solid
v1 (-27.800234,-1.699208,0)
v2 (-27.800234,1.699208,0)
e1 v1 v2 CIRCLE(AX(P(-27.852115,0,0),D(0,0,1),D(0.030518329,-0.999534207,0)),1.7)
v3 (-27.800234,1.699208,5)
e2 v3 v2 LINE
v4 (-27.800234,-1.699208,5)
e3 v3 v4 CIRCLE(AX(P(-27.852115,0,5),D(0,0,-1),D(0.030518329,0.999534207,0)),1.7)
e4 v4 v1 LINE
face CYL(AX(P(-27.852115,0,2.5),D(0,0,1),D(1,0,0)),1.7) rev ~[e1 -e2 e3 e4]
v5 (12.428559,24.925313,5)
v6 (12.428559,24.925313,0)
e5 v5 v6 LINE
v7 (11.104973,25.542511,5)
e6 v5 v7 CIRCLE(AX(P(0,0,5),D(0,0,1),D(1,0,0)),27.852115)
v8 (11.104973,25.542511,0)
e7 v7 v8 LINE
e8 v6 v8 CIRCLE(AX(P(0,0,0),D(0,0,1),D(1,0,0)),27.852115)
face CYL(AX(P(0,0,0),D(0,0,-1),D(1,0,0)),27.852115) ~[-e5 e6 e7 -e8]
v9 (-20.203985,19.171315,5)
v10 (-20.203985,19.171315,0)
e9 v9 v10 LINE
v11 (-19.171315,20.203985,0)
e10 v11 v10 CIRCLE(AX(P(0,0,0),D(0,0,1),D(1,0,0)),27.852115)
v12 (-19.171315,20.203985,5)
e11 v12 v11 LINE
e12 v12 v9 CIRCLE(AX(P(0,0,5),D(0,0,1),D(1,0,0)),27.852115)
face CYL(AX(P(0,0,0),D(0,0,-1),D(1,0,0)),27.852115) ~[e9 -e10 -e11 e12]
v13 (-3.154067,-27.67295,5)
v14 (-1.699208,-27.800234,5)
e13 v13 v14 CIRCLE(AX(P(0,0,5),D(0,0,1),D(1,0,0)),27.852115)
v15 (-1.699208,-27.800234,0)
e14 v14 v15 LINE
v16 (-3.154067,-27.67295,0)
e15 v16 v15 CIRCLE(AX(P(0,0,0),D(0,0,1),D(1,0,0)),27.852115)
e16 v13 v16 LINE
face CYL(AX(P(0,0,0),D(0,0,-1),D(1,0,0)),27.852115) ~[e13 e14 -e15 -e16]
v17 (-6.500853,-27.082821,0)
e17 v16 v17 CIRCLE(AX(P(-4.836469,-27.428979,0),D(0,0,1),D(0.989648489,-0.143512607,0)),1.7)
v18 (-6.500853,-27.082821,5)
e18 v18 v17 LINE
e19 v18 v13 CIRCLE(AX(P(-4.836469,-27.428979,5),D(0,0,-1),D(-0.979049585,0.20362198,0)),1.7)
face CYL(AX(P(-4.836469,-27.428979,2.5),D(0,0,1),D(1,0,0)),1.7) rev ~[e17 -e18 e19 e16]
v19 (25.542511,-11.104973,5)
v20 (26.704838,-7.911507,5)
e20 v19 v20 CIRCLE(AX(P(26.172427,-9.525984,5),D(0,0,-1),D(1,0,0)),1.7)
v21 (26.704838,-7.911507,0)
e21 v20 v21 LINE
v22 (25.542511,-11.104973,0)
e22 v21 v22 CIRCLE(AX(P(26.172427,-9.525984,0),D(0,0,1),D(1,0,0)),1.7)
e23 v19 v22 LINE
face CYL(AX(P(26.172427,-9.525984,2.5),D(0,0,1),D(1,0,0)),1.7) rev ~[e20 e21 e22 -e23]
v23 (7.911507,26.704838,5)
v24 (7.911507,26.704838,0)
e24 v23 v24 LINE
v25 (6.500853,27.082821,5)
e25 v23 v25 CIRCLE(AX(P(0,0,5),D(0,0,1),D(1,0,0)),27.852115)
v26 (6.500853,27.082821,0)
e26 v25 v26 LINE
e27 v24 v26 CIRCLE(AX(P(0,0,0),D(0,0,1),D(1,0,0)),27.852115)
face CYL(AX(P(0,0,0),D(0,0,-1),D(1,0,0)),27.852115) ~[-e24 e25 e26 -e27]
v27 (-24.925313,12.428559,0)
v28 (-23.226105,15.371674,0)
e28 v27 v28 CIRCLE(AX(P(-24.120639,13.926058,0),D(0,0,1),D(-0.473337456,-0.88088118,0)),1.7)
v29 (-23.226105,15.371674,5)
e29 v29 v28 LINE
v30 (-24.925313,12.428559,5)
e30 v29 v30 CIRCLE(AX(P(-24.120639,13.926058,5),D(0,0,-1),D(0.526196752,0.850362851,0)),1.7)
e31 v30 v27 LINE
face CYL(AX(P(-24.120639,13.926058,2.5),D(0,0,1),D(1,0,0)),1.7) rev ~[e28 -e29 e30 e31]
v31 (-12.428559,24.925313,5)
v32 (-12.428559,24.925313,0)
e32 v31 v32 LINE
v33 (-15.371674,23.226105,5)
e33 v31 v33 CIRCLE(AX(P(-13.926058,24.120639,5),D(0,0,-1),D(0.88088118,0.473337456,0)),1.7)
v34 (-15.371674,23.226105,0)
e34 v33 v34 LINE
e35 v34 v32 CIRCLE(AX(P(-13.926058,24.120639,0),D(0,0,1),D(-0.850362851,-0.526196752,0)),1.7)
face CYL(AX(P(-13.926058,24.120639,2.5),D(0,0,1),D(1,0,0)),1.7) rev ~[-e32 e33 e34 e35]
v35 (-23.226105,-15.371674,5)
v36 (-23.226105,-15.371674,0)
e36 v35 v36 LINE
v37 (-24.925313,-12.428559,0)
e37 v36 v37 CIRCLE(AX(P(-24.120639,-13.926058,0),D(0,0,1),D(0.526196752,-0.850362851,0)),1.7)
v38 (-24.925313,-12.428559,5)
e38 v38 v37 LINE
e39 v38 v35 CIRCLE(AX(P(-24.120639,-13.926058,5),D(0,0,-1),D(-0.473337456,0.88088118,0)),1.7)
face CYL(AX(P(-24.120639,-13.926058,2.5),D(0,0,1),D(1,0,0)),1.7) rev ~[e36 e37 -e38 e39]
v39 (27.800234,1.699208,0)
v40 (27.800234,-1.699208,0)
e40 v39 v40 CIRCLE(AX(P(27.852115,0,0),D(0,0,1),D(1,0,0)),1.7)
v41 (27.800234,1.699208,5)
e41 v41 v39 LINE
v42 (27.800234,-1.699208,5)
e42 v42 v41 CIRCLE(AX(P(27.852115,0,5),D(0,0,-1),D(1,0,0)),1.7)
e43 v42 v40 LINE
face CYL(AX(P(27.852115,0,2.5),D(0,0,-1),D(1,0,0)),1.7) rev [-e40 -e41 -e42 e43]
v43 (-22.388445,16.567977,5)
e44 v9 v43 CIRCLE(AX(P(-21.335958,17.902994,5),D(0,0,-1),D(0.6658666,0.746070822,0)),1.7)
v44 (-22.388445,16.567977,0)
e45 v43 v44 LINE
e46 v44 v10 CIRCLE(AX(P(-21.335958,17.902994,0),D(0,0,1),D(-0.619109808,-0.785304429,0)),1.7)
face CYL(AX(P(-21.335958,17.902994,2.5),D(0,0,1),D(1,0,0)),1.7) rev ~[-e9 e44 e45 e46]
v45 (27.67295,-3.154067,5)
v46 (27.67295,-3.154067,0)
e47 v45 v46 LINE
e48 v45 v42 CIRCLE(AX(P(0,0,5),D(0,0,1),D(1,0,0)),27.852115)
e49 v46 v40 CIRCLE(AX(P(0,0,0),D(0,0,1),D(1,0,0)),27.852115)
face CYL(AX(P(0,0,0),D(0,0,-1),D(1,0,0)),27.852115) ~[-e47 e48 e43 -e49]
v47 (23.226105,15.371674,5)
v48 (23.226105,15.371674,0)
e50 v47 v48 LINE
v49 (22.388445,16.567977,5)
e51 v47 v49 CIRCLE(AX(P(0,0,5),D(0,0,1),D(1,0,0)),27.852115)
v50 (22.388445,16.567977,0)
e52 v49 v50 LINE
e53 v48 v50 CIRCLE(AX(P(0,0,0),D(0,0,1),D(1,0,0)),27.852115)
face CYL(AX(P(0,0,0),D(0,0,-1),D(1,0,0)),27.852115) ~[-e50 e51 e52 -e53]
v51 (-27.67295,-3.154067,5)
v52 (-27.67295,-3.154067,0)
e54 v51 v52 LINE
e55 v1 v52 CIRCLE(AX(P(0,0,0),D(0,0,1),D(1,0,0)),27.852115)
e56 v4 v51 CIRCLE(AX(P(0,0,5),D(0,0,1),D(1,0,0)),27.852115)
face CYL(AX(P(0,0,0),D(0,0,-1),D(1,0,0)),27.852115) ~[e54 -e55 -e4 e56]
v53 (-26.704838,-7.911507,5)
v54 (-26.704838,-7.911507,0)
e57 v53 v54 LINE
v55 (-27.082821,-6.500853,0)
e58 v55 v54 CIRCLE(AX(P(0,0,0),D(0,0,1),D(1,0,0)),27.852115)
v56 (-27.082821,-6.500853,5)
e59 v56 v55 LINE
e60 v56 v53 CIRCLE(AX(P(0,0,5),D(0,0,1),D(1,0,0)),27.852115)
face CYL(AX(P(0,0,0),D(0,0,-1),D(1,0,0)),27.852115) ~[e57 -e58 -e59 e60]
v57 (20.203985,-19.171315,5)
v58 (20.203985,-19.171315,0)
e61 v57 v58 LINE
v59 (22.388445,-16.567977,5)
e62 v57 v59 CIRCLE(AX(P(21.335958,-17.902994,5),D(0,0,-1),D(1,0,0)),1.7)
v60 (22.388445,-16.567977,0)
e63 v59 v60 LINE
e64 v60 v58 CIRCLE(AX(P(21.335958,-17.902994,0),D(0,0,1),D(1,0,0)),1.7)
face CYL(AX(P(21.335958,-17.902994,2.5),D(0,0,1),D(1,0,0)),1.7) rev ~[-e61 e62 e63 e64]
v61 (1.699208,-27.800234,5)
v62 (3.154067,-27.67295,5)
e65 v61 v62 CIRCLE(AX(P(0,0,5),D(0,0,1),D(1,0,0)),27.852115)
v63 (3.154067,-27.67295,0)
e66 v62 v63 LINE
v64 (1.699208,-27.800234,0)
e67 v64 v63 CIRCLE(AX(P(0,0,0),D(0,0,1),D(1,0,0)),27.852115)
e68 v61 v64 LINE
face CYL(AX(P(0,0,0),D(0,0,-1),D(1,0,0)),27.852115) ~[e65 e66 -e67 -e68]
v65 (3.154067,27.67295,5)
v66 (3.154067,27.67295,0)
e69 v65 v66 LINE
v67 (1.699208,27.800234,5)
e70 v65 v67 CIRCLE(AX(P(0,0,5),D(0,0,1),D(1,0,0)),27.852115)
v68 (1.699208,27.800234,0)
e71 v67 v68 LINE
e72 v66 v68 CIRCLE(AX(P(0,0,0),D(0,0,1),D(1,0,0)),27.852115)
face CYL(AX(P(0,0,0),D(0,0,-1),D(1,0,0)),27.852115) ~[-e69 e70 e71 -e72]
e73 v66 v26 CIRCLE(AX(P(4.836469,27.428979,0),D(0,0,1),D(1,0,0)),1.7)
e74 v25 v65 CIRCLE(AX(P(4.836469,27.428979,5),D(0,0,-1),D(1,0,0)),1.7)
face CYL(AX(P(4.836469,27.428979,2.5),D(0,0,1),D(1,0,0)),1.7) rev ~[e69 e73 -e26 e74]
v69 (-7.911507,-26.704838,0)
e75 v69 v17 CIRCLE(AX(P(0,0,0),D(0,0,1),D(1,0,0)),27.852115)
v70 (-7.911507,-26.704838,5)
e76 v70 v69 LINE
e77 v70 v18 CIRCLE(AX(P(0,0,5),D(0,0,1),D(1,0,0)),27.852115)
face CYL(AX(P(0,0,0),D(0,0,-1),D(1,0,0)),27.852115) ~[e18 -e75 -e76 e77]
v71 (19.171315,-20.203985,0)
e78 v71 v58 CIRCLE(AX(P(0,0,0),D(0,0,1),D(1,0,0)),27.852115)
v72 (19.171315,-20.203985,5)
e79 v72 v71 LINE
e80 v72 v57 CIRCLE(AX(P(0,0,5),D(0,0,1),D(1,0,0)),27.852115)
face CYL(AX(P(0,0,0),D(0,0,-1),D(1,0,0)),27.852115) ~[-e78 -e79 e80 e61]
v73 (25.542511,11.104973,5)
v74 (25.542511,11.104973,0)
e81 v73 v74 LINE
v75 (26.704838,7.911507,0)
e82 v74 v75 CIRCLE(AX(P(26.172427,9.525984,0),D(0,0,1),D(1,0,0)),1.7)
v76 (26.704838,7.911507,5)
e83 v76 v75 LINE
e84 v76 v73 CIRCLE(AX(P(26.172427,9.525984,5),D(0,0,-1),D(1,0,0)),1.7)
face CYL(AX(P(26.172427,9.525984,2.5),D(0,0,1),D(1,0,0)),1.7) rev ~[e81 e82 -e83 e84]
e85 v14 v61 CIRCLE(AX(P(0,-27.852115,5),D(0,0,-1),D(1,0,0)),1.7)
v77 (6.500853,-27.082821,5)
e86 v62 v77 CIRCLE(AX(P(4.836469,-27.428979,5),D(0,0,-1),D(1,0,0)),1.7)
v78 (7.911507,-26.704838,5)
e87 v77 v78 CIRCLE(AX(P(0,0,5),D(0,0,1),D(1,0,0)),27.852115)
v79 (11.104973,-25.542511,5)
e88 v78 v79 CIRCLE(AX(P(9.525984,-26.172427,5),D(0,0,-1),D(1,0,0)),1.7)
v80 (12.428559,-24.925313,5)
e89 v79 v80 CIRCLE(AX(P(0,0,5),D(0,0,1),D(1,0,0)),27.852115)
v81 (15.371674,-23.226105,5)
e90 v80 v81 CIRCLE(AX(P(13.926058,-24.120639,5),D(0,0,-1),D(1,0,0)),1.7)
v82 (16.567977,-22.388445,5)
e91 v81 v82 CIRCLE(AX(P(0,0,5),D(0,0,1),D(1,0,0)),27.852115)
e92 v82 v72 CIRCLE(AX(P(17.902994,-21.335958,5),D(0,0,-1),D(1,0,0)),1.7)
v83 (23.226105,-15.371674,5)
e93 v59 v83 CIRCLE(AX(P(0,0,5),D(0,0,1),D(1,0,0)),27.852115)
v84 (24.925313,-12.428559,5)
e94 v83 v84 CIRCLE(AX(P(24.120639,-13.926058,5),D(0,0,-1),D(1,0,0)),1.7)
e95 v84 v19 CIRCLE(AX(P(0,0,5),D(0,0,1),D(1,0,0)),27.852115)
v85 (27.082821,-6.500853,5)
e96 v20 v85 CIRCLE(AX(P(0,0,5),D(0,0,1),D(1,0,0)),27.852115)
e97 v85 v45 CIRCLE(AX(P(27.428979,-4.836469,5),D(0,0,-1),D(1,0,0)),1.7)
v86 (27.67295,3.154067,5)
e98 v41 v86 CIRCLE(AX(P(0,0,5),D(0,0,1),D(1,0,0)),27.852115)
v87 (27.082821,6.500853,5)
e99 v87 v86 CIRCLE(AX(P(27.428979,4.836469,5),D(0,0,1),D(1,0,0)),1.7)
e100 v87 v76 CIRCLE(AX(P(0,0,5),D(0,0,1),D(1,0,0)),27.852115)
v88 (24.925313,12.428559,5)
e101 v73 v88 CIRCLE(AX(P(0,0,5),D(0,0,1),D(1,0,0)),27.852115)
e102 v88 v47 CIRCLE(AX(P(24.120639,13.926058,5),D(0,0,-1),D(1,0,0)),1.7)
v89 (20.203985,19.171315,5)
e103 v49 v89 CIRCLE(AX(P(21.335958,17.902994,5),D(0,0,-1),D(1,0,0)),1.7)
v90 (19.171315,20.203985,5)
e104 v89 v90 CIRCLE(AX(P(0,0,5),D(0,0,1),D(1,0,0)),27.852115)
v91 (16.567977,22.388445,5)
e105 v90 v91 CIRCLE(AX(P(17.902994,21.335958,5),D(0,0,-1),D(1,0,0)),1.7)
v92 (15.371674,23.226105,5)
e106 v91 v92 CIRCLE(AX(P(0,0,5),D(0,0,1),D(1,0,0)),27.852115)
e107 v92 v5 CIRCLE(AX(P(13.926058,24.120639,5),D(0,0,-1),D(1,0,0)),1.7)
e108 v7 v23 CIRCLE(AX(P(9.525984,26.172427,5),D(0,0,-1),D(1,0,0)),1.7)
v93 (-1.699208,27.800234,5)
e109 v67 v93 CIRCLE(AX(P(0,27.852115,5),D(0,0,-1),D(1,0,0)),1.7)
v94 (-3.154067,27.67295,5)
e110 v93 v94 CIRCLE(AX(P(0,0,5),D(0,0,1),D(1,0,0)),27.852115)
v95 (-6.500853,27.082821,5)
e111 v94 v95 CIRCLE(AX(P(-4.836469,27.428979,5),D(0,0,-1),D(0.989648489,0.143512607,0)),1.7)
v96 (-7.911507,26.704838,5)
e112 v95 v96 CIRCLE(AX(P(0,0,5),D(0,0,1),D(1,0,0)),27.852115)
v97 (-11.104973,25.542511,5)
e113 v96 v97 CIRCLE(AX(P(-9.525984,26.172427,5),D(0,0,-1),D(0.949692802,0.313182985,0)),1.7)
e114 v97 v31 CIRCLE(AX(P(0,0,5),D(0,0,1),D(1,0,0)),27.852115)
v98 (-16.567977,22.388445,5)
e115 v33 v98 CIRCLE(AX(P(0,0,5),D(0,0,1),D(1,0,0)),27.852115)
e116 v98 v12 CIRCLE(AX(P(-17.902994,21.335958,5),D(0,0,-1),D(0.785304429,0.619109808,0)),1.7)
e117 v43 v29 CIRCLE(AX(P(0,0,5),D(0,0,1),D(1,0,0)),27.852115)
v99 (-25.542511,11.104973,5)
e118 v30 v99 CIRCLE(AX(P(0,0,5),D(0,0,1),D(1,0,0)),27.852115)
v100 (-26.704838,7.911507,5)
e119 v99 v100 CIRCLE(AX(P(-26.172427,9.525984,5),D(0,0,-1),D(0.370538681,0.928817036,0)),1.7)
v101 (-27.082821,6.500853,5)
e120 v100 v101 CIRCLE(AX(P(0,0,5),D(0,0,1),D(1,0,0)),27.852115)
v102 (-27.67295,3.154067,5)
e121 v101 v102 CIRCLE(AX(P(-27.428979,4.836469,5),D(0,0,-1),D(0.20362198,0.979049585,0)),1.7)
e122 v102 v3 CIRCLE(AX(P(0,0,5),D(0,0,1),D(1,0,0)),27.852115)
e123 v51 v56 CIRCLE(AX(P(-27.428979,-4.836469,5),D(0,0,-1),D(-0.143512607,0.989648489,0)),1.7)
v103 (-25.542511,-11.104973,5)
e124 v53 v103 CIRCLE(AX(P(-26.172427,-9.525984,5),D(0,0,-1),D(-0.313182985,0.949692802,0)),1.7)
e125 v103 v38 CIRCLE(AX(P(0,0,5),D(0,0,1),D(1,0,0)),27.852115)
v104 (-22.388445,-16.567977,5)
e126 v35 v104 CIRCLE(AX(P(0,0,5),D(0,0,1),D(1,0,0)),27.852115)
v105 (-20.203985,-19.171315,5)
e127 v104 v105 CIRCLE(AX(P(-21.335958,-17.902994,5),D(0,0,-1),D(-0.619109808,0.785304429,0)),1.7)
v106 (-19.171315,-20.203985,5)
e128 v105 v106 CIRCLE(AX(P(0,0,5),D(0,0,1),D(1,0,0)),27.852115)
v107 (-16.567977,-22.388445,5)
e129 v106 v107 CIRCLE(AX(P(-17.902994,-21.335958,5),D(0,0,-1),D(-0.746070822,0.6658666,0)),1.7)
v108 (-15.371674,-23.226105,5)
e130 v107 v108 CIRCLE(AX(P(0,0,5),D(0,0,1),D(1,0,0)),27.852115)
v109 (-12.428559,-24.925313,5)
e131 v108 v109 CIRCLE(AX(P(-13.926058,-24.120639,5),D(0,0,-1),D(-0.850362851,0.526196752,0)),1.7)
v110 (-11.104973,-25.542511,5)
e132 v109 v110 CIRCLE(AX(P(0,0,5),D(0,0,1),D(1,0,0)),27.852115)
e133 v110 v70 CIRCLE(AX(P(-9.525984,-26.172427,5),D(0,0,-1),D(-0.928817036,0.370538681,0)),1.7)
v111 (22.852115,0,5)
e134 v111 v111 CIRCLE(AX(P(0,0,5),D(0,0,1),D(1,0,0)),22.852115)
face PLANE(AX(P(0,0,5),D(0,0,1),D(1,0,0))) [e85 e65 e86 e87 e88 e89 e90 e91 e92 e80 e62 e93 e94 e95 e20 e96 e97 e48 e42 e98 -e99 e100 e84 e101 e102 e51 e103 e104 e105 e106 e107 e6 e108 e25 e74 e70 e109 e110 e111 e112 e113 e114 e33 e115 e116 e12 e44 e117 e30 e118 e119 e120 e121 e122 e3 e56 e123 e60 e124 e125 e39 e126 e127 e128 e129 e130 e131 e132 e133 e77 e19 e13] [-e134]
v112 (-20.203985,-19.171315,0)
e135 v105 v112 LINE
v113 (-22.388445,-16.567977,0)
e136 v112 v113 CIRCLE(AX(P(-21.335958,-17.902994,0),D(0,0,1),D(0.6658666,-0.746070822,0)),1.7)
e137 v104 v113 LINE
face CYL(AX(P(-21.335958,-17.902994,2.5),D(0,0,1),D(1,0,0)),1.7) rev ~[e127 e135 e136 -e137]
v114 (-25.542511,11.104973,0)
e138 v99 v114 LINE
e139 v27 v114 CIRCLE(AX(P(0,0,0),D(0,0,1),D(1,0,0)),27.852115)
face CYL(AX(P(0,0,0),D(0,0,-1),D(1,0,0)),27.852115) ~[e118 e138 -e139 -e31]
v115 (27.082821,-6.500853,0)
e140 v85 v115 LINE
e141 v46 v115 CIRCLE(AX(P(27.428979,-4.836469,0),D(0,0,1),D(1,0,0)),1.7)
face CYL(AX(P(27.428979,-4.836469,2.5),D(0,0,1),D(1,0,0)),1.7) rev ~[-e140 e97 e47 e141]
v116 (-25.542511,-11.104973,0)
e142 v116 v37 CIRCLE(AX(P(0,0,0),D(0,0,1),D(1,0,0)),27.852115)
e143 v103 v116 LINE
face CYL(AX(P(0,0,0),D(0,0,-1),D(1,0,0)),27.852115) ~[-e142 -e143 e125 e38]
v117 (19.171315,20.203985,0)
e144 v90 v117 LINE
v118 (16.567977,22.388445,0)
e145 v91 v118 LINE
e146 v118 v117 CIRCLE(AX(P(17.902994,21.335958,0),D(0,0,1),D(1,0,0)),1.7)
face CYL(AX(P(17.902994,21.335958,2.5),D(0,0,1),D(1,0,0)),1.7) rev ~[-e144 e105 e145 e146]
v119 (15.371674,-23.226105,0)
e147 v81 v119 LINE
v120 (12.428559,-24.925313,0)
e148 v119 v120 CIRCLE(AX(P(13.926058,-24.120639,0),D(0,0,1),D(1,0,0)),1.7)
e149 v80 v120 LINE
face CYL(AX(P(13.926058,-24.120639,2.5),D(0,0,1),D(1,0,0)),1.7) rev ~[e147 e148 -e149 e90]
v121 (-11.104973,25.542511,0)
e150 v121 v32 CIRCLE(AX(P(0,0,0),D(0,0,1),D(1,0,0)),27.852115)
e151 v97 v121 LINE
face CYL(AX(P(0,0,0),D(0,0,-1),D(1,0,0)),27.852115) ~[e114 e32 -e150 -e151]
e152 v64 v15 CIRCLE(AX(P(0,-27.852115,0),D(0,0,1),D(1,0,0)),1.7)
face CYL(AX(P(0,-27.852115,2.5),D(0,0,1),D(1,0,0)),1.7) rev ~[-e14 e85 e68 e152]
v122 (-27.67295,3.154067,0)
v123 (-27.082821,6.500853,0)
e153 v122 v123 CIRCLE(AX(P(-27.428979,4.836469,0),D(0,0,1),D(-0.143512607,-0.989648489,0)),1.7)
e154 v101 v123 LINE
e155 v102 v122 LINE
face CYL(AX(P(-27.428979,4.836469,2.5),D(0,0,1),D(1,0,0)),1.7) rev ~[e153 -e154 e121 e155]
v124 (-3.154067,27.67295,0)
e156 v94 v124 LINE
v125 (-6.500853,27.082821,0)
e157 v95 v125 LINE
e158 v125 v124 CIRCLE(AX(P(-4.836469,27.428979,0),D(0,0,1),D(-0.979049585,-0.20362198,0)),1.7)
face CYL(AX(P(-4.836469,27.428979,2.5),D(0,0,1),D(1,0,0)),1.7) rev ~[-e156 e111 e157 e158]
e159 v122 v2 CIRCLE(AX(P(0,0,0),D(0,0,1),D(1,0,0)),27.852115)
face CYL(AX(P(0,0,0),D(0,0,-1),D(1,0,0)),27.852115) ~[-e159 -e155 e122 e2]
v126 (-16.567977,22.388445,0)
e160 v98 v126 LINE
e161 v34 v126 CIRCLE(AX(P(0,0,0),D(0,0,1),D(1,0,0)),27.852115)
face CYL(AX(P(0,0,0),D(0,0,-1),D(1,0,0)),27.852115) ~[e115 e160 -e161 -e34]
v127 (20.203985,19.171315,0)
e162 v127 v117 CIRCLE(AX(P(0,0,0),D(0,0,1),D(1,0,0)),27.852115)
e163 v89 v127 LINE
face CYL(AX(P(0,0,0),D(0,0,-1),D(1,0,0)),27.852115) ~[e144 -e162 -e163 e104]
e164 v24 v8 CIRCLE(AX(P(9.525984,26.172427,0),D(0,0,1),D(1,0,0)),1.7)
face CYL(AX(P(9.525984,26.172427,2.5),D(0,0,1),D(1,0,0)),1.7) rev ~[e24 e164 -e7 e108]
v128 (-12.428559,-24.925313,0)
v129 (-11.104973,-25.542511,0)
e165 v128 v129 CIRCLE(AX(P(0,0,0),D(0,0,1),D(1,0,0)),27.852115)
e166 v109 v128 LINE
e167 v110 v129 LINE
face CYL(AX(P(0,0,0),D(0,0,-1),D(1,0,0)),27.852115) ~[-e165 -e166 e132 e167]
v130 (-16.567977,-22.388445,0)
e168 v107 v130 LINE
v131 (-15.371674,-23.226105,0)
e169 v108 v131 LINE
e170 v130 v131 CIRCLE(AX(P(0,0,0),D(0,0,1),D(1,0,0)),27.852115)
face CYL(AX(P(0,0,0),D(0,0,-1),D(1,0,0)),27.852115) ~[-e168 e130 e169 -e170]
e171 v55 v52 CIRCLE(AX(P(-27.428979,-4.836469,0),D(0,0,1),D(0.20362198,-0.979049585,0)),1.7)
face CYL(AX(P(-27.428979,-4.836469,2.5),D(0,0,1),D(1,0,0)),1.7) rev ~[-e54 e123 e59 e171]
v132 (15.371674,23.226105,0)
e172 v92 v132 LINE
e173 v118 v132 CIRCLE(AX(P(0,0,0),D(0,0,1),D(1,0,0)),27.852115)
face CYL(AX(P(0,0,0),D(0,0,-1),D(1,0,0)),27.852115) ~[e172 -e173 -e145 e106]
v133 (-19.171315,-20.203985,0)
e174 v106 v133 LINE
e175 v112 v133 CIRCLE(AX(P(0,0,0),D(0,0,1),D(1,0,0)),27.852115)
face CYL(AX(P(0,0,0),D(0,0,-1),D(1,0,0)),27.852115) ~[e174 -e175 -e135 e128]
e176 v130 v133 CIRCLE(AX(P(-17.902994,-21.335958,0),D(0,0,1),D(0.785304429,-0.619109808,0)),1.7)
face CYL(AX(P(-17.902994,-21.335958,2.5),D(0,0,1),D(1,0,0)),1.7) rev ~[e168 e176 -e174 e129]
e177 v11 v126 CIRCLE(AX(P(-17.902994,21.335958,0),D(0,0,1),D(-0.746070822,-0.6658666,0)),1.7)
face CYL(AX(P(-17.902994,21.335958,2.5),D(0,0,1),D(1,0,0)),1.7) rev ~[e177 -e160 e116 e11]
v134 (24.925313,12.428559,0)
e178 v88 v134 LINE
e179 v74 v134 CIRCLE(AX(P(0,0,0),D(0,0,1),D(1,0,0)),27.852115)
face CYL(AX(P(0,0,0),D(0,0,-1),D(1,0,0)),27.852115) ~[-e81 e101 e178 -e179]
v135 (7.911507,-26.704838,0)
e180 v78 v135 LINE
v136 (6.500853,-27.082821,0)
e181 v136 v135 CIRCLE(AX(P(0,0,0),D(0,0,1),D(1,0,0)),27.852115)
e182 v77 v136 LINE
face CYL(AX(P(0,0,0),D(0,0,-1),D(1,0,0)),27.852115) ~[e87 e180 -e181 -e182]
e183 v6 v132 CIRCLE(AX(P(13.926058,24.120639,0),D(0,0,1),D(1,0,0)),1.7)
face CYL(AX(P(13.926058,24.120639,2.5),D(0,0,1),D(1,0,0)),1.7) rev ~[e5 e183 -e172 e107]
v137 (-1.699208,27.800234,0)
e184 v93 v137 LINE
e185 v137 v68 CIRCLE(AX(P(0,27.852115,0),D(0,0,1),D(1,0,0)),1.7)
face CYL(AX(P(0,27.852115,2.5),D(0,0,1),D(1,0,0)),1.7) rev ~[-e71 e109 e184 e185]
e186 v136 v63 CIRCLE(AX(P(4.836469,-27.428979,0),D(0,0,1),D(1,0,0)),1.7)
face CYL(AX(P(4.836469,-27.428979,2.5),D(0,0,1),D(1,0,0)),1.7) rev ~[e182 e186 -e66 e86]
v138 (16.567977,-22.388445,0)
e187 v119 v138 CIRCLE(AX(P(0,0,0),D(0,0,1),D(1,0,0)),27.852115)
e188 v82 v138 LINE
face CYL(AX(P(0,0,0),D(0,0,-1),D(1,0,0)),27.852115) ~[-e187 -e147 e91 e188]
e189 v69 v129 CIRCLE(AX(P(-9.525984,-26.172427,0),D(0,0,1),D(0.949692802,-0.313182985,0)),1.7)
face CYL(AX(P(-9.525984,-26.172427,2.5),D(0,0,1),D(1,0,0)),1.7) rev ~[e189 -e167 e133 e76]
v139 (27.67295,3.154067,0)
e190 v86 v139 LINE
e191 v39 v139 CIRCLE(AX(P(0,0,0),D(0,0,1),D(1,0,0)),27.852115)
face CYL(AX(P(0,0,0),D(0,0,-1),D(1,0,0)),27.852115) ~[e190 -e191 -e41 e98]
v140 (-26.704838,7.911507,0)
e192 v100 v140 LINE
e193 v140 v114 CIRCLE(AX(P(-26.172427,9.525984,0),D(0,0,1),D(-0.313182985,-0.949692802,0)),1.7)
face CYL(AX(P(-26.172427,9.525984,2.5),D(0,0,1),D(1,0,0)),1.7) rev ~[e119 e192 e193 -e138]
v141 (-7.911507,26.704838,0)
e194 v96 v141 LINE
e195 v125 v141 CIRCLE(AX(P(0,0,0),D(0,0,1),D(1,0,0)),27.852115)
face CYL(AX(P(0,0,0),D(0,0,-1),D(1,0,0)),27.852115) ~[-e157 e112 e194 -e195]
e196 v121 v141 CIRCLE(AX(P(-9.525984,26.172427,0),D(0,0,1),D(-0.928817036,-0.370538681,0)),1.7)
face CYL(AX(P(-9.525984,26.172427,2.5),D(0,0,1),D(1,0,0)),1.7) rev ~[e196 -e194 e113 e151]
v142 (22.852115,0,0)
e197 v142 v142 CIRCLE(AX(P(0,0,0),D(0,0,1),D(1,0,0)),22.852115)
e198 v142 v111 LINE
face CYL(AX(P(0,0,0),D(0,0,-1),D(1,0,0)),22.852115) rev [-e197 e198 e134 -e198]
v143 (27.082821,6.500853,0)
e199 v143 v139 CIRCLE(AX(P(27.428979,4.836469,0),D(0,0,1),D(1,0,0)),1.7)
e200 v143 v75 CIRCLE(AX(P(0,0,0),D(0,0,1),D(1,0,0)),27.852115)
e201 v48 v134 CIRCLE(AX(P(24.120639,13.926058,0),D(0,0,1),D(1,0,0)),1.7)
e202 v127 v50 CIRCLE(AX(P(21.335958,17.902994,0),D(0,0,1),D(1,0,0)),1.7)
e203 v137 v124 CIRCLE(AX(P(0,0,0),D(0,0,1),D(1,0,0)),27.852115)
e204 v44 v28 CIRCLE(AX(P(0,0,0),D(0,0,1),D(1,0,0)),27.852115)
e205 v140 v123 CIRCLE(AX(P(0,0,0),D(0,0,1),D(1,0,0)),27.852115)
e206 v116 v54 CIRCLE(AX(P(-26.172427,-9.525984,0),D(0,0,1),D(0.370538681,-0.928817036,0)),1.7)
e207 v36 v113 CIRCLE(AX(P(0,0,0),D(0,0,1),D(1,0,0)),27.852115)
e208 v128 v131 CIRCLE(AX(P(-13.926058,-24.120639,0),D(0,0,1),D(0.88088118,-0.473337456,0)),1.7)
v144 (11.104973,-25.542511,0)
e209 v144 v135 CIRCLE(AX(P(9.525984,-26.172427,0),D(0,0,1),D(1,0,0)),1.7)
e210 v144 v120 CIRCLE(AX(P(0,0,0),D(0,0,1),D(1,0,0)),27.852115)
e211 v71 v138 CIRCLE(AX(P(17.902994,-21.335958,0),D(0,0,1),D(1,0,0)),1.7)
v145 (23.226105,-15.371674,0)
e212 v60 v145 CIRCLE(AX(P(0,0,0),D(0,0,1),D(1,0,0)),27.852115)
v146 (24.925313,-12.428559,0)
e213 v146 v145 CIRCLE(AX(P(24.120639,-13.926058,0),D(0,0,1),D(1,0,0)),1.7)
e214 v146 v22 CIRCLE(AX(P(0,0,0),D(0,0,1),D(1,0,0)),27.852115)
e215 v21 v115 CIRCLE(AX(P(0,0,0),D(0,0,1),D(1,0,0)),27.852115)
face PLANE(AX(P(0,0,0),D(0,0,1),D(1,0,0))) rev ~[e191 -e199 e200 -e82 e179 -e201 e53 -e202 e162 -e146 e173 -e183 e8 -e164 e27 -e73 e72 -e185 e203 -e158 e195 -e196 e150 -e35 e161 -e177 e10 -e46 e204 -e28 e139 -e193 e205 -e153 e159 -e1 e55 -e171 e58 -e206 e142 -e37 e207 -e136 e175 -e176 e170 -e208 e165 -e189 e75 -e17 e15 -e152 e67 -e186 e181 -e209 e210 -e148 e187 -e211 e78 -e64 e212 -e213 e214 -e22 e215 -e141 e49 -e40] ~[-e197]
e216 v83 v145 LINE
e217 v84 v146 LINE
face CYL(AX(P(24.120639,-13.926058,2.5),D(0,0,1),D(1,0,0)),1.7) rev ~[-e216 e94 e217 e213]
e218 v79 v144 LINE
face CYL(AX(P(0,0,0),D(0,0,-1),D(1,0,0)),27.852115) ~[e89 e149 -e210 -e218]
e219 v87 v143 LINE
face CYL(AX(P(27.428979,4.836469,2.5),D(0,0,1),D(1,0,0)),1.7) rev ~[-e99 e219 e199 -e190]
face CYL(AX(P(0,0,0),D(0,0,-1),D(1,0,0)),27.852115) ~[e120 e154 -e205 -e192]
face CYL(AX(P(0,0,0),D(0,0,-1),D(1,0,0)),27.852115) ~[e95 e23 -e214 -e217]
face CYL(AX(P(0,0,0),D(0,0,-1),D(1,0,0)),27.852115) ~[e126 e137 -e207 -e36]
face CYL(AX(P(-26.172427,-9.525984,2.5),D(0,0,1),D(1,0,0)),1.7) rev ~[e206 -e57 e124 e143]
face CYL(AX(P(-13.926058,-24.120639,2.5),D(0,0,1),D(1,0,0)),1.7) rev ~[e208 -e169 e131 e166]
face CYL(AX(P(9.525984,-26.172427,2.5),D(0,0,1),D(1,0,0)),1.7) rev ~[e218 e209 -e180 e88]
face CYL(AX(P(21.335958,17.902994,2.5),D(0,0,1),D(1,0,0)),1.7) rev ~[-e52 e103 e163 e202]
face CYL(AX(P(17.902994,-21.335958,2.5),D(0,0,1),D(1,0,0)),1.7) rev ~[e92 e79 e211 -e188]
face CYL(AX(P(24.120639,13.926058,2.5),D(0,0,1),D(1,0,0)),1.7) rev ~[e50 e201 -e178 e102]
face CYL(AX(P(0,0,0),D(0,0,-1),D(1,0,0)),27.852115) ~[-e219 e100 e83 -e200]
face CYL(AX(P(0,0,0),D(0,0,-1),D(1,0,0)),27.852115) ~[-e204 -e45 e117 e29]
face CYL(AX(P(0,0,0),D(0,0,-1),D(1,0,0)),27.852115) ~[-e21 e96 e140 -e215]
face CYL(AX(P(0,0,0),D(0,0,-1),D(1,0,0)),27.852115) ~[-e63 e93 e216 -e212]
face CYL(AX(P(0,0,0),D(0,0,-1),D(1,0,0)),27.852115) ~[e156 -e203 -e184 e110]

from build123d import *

# Parameters (mm, degrees)
SKETCH1_R           = 27.852115
SKETCH1_R_2         = 22.852115
BOSS_EXTRUDE1_DEPTH = 5
SKETCH3_R           = 1.7
CUT_EXTRUDE1_DEPTH  = 8


with BuildPart() as part:
    # Sketch1 → Boss-Extrude1 (new body)
    with BuildSketch(Plane.XY):
        Circle(SKETCH1_R)
        Circle(SKETCH1_R_2, mode=Mode.SUBTRACT)
    extrude(amount=BOSS_EXTRUDE1_DEPTH)

    # Sketch3 → Cut-Extrude1 (cut, symmetric)
    with BuildSketch(Plane.XY.offset(2.5)):
        with Locations((27.852115, 0)):
            Circle(SKETCH3_R)
        with Locations((27.42897879, -4.836469014)):
            Circle(SKETCH3_R)
        with Locations((26.172426939, -9.525984364)):
            Circle(SKETCH3_R)
        with Locations((24.120639139, -13.9260575)):
            Circle(SKETCH3_R)
        with Locations((21.335957925, -17.902994426)):
            Circle(SKETCH3_R)
        with Locations((17.902994426, -21.335957925)):
            Circle(SKETCH3_R)
        with Locations((13.9260575, -24.120639139)):
            Circle(SKETCH3_R)
        with Locations((9.525984364, -26.172426939)):
            Circle(SKETCH3_R)
        with Locations((4.836469014, -27.42897879)):
            Circle(SKETCH3_R)
        with Locations((0, -27.852115)):
            Circle(SKETCH3_R)
        with Locations((-4.836469014, -27.42897879)):
            Circle(SKETCH3_R)
        with Locations((-9.525984364, -26.172426939)):
            Circle(SKETCH3_R)
        with Locations((-13.9260575, -24.120639139)):
            Circle(SKETCH3_R)
        with Locations((-17.902994426, -21.335957925)):
            Circle(SKETCH3_R)
        with Locations((-21.335957925, -17.902994426)):
            Circle(SKETCH3_R)
        with Locations((-24.120639139, -13.9260575)):
            Circle(SKETCH3_R)
        with Locations((-26.172426939, -9.525984364)):
            Circle(SKETCH3_R)
        with Locations((-27.42897879, -4.836469014)):
            Circle(SKETCH3_R)
        with Locations((-27.852115, 0)):
            Circle(SKETCH3_R)
        with Locations((-27.42897879, 4.836469014)):
            Circle(SKETCH3_R)
        with Locations((-26.172426939, 9.525984364)):
            Circle(SKETCH3_R)
        with Locations((-24.120639139, 13.9260575)):
            Circle(SKETCH3_R)
        with Locations((-21.335957925, 17.902994426)):
            Circle(SKETCH3_R)
        with Locations((-17.902994426, 21.335957925)):
            Circle(SKETCH3_R)
        with Locations((-13.9260575, 24.120639139)):
            Circle(SKETCH3_R)
        with Locations((-9.525984364, 26.172426939)):
            Circle(SKETCH3_R)
        with Locations((-4.836469014, 27.42897879)):
            Circle(SKETCH3_R)
        with Locations((0, 27.852115)):
            Circle(SKETCH3_R)
        with Locations((4.836469014, 27.42897879)):
            Circle(SKETCH3_R)
        with Locations((9.525984364, 26.172426939)):
            Circle(SKETCH3_R)
        with Locations((13.9260575, 24.120639139)):
            Circle(SKETCH3_R)
        with Locations((17.902994426, 21.335957925)):
            Circle(SKETCH3_R)
        with Locations((21.335957925, 17.902994426)):
            Circle(SKETCH3_R)
        with Locations((24.120639139, 13.9260575)):
            Circle(SKETCH3_R)
        with Locations((26.172426939, 9.525984364)):
            Circle(SKETCH3_R)
        with Locations((27.42897879, 4.836469014)):
            Circle(SKETCH3_R)
    extrude(amount=CUT_EXTRUDE1_DEPTH, both=True, mode=Mode.SUBTRACT)


solid = part.part
